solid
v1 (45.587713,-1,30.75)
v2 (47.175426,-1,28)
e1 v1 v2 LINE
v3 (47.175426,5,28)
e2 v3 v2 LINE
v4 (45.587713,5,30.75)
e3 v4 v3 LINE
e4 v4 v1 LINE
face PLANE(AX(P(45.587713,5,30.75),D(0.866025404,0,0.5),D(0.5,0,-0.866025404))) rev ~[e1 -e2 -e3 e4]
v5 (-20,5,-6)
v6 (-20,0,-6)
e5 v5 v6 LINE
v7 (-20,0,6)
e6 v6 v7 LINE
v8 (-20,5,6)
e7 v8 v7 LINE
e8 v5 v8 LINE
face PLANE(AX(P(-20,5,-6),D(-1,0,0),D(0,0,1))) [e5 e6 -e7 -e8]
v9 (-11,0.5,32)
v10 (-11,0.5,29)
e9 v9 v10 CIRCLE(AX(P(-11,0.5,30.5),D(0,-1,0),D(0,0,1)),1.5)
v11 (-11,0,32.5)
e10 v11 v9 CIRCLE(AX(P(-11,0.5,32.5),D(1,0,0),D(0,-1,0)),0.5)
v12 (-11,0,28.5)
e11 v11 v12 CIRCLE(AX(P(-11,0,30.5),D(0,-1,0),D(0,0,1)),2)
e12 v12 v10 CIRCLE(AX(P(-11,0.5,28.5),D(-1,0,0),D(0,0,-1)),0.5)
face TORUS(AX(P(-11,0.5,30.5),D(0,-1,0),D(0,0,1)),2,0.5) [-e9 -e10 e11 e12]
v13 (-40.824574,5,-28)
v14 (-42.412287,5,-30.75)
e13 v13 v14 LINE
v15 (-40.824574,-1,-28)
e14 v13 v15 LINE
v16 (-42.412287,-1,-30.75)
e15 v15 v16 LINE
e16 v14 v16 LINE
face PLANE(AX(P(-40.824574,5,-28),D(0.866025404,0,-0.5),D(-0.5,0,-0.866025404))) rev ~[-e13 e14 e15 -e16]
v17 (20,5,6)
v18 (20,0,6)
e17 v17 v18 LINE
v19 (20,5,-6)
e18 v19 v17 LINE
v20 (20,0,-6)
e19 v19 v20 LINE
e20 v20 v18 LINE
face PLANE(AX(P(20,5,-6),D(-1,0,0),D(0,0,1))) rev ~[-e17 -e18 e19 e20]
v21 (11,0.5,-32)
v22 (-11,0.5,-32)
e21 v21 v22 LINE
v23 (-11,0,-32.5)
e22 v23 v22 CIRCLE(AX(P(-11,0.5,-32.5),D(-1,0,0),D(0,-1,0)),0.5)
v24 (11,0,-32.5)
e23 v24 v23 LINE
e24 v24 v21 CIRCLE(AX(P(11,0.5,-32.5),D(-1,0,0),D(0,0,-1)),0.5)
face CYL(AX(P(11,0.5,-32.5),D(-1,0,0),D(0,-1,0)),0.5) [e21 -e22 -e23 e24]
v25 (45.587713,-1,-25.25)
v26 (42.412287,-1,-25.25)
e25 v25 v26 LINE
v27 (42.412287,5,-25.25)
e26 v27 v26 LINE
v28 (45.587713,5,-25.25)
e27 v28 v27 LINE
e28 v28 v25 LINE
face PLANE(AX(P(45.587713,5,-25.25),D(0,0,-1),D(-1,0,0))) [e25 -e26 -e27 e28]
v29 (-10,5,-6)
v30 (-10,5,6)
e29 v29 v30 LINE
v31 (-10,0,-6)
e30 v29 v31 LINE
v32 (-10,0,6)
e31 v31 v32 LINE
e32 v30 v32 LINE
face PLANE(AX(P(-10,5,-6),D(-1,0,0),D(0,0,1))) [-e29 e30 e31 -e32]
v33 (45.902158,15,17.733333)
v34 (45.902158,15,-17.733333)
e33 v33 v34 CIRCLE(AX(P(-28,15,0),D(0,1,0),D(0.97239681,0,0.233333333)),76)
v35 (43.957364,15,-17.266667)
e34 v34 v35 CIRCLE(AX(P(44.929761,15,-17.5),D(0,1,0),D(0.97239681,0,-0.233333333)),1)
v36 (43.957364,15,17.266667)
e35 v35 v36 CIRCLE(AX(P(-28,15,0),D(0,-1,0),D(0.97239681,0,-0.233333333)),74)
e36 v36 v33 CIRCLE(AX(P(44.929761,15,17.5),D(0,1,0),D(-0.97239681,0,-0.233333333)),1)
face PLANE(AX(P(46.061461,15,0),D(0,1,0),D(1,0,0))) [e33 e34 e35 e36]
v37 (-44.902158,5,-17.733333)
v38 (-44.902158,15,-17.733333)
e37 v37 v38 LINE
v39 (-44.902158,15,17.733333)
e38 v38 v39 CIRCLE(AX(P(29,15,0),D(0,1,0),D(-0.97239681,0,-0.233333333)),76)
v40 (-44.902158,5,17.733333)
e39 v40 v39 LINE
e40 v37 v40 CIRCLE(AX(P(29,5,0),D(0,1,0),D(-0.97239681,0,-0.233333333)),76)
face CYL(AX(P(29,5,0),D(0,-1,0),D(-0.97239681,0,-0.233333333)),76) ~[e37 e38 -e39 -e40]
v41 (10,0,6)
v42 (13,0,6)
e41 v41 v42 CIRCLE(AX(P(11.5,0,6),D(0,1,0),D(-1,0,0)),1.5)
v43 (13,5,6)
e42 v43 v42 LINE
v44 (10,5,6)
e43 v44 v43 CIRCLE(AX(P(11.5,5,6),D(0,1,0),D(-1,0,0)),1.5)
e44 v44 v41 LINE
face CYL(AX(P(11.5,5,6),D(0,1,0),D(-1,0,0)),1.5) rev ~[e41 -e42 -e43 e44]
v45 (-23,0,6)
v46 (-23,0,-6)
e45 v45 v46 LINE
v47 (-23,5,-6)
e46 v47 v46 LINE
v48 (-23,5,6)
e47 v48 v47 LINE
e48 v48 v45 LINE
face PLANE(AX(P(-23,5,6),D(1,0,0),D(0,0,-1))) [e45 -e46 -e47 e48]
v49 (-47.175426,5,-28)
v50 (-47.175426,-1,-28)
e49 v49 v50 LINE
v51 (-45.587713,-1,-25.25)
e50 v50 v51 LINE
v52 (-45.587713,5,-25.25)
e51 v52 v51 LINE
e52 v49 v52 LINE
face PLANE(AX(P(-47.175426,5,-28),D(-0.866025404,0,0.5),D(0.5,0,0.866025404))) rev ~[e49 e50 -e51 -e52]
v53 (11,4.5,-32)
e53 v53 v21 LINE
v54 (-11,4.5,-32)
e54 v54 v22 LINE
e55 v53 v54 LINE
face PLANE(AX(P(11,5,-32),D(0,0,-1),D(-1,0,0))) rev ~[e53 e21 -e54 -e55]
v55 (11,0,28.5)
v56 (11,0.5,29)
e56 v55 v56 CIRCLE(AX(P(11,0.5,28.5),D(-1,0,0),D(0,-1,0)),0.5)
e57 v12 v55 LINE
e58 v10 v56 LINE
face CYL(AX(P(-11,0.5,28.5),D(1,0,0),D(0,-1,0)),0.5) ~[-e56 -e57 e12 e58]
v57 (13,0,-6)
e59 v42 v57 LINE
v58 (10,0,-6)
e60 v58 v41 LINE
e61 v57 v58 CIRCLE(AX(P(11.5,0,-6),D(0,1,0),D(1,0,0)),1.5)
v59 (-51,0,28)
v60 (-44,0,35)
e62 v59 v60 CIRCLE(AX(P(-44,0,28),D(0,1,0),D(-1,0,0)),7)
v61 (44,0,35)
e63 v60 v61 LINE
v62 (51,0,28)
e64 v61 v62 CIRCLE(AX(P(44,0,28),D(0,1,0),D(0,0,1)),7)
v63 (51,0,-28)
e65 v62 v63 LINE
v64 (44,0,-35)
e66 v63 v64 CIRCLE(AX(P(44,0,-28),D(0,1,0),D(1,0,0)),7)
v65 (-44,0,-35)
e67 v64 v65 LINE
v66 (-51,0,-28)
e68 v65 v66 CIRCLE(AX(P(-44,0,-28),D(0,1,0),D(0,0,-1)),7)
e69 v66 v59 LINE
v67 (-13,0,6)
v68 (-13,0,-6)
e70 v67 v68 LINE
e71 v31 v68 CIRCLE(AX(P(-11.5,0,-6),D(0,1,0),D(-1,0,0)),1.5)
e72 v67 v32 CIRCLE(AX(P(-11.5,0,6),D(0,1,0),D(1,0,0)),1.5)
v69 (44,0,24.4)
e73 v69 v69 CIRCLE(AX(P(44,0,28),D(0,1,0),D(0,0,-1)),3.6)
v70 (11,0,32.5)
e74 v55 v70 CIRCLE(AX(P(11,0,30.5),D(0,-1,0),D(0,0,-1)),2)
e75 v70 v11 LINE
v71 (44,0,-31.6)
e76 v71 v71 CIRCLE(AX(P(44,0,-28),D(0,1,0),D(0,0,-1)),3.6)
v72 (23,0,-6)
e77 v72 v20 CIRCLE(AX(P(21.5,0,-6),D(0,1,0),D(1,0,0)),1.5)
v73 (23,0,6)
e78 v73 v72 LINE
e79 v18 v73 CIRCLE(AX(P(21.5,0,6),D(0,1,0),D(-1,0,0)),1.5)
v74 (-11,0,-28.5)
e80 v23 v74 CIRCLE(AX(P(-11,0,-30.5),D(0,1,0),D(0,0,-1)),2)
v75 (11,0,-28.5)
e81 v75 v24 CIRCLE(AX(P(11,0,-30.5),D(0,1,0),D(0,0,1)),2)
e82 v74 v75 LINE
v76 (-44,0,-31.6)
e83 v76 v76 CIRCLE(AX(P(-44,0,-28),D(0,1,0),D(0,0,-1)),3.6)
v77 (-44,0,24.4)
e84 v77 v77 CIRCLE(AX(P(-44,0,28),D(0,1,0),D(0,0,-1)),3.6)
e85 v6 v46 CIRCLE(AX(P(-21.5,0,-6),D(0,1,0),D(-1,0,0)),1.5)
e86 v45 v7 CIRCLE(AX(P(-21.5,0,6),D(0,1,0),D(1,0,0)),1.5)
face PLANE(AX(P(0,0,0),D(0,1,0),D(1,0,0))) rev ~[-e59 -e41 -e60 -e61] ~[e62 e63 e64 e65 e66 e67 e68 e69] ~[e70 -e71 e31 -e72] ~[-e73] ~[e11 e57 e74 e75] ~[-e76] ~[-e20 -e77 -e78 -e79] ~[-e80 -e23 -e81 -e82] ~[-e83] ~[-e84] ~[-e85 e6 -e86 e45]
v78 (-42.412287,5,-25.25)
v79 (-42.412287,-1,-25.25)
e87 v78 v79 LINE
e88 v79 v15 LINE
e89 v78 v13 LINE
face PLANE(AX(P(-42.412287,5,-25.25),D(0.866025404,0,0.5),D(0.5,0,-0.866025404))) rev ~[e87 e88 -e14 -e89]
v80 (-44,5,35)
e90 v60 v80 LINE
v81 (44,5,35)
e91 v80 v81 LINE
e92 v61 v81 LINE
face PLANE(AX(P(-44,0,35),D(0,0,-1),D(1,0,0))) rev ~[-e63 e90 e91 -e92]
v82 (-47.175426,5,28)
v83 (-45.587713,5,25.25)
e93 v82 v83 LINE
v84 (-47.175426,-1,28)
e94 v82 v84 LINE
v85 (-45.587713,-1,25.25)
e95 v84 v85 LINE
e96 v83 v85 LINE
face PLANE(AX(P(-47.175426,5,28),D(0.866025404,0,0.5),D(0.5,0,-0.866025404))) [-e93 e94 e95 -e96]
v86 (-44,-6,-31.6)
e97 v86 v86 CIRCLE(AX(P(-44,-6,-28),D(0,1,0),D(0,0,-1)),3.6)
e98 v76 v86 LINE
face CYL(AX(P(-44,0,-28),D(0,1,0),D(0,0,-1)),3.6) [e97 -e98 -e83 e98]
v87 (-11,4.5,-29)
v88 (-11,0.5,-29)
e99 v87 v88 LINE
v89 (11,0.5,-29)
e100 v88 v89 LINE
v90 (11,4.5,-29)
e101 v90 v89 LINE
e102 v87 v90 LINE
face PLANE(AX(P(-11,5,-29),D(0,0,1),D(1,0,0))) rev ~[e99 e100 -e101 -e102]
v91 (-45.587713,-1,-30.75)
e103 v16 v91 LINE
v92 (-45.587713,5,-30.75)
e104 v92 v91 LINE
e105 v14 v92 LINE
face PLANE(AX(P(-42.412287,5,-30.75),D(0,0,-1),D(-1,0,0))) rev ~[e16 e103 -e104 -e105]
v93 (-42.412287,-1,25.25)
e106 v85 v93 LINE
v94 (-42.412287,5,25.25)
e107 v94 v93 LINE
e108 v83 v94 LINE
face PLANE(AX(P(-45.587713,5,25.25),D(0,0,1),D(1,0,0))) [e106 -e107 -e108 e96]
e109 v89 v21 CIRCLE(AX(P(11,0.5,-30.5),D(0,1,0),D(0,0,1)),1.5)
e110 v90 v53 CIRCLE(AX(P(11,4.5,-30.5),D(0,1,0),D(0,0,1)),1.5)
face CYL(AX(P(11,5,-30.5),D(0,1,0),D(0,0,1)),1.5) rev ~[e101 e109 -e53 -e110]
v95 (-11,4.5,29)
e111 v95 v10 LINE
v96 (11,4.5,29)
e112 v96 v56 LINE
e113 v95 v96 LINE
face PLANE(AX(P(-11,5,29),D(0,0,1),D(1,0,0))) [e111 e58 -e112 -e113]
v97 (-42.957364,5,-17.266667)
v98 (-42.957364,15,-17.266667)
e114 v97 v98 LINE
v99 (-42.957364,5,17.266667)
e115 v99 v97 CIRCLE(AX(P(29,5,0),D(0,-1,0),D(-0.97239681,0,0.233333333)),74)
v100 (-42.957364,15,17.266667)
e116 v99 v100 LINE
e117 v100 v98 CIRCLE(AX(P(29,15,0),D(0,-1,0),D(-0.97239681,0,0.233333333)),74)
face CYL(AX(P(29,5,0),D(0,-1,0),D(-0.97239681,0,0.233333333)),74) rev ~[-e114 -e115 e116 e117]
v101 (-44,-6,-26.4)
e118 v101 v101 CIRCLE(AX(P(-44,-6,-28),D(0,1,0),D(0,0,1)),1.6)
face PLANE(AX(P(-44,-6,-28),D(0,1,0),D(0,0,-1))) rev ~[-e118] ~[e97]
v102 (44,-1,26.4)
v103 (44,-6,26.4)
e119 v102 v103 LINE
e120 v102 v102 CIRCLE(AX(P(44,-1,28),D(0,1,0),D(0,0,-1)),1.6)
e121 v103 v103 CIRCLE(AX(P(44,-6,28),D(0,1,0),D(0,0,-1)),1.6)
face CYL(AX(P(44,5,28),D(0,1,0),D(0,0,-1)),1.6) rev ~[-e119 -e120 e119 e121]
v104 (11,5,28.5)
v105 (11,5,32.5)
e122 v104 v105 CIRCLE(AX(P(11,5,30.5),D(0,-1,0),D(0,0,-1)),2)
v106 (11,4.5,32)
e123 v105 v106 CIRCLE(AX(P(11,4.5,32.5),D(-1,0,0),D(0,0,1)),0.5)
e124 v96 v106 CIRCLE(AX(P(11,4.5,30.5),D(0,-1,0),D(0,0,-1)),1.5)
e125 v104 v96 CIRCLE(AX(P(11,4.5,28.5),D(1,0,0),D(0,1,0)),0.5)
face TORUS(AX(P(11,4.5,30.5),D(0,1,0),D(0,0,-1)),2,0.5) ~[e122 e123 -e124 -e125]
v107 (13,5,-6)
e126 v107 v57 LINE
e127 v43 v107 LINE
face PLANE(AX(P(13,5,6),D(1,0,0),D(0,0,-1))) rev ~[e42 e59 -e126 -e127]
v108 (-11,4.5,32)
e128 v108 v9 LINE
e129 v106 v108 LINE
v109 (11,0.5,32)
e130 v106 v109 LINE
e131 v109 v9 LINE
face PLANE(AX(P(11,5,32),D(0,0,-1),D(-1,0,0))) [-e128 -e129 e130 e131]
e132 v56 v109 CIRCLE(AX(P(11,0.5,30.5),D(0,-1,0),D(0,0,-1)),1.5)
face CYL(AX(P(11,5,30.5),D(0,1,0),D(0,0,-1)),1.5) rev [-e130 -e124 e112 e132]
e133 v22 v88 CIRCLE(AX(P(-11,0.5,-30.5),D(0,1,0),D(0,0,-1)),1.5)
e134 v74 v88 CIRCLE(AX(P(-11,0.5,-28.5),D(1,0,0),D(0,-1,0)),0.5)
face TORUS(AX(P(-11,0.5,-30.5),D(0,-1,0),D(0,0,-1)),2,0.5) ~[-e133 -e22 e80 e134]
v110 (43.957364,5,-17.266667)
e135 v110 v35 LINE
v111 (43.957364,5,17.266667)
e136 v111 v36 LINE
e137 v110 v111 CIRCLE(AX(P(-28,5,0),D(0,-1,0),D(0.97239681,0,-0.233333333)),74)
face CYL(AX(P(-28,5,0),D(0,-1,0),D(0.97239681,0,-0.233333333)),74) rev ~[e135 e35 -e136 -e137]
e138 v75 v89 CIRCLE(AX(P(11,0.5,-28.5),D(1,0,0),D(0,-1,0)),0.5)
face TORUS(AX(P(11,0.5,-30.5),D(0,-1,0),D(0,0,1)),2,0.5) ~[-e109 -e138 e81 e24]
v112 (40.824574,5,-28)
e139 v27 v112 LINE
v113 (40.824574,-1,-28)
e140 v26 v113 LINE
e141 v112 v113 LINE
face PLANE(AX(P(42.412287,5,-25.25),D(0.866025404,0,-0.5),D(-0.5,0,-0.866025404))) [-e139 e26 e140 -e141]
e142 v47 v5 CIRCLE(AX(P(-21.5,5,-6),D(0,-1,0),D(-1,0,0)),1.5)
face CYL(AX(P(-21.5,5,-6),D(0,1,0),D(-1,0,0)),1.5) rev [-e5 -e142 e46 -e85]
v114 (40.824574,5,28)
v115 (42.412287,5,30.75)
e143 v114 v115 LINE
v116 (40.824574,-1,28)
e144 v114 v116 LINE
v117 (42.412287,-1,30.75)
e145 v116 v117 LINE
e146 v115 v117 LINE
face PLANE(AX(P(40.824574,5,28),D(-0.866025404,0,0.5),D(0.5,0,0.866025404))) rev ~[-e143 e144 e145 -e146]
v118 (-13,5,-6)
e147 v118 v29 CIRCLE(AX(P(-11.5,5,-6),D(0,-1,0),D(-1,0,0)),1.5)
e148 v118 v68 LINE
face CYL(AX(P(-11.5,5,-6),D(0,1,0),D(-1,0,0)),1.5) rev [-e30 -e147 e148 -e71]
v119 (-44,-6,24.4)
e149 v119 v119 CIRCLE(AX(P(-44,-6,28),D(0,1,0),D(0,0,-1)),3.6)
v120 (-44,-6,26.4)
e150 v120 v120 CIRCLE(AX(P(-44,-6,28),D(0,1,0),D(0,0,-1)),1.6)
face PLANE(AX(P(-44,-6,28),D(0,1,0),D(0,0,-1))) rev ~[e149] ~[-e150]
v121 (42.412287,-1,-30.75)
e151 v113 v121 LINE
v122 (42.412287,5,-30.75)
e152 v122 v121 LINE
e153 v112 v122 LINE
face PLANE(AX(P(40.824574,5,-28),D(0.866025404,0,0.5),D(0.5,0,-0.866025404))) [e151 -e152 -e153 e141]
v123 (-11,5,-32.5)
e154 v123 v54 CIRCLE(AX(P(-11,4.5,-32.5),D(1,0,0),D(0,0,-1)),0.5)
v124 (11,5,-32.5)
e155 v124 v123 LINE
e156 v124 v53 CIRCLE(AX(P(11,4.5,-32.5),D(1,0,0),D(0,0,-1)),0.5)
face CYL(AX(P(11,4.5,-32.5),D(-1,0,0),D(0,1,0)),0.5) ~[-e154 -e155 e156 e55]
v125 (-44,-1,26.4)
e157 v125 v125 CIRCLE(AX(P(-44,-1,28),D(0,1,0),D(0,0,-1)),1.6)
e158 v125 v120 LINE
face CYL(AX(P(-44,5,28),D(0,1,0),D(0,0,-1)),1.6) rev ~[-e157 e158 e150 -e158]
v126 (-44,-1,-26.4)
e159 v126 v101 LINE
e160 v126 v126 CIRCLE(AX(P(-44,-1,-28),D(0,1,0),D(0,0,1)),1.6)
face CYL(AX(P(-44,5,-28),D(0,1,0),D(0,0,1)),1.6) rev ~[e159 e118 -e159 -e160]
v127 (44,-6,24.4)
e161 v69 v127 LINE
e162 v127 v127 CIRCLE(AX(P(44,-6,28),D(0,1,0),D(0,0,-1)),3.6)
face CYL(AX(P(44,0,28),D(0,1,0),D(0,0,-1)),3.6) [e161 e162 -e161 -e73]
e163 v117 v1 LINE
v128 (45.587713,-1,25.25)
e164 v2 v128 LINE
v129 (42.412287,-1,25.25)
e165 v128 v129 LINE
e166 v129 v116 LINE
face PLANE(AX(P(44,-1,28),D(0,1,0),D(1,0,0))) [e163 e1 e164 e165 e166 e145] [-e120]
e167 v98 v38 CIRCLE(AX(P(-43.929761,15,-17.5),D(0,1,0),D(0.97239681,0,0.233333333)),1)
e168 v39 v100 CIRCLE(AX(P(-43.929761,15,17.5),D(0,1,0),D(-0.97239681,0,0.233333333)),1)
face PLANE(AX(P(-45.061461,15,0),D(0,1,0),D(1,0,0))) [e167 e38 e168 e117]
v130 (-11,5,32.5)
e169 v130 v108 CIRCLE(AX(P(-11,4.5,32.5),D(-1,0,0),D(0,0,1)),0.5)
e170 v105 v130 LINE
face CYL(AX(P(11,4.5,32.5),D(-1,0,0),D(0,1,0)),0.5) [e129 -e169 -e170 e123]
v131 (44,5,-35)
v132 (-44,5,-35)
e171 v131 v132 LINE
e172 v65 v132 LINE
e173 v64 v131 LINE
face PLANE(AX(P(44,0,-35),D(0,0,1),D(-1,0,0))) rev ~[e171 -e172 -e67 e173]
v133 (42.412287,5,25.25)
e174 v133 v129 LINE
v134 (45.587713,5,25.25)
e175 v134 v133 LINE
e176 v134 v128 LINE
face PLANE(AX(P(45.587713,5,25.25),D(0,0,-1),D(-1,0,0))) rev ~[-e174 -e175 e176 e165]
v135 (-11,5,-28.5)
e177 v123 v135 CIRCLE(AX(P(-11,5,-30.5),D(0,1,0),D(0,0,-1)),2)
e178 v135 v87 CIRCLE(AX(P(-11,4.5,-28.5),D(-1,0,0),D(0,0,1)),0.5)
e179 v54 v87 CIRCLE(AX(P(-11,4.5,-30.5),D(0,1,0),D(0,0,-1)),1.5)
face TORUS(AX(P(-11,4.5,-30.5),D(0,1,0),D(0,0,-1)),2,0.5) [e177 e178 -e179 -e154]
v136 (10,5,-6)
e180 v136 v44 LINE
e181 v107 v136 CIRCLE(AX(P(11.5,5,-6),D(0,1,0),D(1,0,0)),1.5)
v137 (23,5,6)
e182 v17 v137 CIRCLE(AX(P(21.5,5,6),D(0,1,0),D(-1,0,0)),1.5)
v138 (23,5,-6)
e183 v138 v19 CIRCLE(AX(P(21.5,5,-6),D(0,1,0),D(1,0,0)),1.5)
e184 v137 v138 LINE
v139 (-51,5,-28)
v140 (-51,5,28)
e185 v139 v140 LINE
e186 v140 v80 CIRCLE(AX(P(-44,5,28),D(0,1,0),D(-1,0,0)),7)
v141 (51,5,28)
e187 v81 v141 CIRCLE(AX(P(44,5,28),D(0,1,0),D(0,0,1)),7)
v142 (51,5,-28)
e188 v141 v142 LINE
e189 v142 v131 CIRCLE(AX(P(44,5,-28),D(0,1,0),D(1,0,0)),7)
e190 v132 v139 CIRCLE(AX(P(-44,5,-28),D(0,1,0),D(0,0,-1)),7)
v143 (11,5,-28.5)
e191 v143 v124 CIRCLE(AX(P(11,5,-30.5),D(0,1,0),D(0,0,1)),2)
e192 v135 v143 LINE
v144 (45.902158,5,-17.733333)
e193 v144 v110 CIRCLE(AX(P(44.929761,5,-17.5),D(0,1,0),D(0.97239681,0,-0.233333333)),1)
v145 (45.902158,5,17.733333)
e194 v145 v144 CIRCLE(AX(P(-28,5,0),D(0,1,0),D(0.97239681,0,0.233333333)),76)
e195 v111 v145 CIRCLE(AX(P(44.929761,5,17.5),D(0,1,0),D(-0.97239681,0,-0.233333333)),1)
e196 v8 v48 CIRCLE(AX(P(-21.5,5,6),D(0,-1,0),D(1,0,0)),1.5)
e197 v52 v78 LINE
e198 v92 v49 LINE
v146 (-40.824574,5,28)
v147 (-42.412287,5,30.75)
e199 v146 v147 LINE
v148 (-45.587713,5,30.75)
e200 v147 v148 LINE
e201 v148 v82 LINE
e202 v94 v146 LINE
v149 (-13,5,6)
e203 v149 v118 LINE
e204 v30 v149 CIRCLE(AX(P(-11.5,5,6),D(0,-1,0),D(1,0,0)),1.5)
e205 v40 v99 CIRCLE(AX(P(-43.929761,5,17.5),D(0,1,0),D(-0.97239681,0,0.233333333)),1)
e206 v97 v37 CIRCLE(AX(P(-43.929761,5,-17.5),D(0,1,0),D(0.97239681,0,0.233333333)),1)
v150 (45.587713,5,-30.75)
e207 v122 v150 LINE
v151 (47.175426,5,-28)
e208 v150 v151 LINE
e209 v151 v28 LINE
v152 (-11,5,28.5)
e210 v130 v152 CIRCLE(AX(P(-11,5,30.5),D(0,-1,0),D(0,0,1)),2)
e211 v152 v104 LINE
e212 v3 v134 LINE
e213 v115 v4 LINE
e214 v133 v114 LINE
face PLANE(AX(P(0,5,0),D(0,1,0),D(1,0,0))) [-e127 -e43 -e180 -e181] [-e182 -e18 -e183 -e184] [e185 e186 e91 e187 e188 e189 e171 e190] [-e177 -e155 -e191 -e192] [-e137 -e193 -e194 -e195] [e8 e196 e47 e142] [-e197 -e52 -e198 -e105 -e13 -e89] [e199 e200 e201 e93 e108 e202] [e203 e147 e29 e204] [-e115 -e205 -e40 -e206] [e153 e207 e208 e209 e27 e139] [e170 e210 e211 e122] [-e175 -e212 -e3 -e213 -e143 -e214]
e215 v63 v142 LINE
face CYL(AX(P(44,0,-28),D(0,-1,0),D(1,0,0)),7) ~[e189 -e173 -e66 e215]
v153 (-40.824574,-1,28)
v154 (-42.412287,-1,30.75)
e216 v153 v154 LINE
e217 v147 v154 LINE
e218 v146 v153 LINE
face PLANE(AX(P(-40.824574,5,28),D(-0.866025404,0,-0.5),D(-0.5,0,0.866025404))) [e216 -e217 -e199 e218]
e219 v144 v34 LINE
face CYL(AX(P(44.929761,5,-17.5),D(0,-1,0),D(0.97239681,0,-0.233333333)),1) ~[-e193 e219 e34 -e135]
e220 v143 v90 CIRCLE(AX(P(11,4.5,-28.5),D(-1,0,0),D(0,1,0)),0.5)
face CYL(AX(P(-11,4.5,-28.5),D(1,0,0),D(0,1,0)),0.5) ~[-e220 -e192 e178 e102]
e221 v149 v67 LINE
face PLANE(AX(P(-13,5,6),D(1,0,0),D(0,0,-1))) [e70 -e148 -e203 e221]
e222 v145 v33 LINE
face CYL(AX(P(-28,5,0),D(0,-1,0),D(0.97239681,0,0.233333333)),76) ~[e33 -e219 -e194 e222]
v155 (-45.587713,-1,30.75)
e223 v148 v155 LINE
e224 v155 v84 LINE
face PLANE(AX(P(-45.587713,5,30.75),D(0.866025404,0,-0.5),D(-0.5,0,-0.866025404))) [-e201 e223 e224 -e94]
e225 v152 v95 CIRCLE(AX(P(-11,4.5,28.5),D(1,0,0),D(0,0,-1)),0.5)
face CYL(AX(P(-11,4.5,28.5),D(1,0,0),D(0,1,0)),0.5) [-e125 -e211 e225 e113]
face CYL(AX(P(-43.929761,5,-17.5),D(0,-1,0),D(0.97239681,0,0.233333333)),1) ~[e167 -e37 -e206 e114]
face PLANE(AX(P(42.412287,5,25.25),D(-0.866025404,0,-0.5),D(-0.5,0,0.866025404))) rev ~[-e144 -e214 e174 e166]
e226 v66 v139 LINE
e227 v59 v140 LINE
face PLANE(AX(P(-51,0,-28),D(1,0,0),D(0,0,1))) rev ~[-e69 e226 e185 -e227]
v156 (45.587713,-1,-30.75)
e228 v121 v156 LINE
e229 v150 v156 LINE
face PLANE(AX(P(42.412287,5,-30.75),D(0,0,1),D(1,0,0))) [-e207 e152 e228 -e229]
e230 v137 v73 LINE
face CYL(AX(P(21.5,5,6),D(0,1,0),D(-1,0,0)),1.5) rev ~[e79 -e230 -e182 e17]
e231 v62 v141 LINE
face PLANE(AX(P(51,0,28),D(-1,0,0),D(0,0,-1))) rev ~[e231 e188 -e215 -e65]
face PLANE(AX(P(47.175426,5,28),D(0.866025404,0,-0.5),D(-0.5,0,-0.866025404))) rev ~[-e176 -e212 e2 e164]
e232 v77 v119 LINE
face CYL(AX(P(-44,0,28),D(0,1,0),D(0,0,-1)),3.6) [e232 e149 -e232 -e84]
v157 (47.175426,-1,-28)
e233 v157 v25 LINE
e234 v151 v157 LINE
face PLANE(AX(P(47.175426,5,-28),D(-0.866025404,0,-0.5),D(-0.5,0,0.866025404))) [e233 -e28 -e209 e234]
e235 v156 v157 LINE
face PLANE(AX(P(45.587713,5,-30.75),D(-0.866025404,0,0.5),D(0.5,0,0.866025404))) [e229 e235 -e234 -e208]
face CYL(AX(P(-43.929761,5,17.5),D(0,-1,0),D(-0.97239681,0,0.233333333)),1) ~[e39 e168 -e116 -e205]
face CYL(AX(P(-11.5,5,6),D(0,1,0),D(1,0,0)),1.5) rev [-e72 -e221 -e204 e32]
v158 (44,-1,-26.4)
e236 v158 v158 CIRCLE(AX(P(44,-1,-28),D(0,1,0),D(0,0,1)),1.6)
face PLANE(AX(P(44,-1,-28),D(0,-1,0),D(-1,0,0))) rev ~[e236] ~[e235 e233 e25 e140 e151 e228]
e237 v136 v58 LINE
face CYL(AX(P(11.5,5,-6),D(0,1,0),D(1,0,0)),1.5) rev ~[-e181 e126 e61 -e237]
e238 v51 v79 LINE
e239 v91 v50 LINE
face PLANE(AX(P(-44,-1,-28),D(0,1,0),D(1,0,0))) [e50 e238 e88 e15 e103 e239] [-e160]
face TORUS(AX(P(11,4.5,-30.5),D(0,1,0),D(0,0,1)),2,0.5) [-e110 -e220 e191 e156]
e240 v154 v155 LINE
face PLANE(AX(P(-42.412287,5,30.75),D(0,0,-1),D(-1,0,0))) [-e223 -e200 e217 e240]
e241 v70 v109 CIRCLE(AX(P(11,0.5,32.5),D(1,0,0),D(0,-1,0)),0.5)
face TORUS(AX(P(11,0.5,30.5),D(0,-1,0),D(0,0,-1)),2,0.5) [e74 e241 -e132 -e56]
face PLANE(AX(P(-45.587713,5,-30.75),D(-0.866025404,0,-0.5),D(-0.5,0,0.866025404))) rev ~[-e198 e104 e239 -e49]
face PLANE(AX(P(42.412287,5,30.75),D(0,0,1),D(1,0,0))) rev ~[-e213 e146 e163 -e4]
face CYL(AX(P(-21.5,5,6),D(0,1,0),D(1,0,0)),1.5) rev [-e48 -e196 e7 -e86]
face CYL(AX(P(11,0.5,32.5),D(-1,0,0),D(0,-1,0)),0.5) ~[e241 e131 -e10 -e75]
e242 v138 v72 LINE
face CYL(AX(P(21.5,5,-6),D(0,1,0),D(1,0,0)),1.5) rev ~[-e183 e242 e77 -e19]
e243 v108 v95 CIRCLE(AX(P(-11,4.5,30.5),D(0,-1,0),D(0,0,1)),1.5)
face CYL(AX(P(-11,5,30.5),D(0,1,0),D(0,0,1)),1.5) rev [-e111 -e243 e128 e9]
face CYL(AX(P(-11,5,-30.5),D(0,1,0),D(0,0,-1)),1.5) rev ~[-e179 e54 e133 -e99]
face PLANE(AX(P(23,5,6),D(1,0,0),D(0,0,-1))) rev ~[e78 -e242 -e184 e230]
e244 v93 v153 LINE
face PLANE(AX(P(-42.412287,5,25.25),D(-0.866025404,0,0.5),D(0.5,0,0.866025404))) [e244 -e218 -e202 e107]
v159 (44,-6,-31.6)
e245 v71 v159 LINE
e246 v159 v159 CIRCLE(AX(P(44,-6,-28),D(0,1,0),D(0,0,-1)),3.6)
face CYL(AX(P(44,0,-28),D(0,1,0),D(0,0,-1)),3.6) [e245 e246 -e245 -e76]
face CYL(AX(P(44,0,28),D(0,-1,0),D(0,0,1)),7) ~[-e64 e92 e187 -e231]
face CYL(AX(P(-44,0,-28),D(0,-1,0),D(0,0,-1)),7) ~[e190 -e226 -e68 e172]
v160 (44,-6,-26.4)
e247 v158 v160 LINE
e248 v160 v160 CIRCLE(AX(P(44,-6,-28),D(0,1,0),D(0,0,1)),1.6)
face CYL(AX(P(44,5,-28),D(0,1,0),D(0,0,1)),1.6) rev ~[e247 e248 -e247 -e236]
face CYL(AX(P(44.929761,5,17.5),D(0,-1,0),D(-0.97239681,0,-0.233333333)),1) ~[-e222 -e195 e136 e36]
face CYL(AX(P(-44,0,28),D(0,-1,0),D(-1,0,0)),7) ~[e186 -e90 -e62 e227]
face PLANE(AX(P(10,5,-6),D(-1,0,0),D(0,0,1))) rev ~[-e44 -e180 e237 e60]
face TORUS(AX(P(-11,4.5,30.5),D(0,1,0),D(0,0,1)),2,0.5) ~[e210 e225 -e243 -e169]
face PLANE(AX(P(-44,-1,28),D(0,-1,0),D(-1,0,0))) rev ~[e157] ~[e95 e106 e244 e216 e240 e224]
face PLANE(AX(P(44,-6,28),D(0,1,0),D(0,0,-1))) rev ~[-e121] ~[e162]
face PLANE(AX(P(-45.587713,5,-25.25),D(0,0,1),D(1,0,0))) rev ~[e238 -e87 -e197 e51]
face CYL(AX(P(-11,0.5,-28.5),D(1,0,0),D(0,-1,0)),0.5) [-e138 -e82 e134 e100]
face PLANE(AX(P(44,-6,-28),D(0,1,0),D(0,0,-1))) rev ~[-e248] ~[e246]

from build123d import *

# Parameters (mm, degrees)
BOSS_EXTRUDE1_DEPTH = 5
CUT_EXTRUDE1_DEPTH  = 12
BOSS_EXTRUDE2_DEPTH = 10
FILLET1_R           = 0.5
BOSS_EXTRUDE3_START = -5
SKETCH4_R           = 3.6
BOSS_EXTRUDE3_DEPTH = 6
SKETCH6_R           = 1.6
CUT_EXTRUDE2_DEPTH  = 63.825154198
CUT_EXTRUDE3_DEPTH  = 6


with BuildPart() as part:
    # Sketch1 → Boss-Extrude1 (new body)
    with BuildSketch(Plane(origin=(0, 0, 0), x_dir=(1, 0, 0), z_dir=(0, 1, 0))):
        with BuildLine():
            Line((-44, -35), (44, -35))
            ThreePointArc((44, -35), (48.949747468, -32.949747468), (51, -28))
            Line((51, -28), (51, 28))
            ThreePointArc((51, 28), (48.949747468, 32.949747468), (44, 35))
            Line((44, 35), (-44, 35))
            ThreePointArc((-44, 35), (-48.949747468, 32.949747468), (-51, 28))
            Line((-51, 28), (-51, -28))
            ThreePointArc((-51, -28), (-48.949747468, -32.949747468), (-44, -35))
        make_face()
    extrude(amount=BOSS_EXTRUDE1_DEPTH)

    # Sketch2 → Cut-Extrude1 (cut)
    with BuildSketch(Plane(origin=(0, 5, 0), x_dir=(1, 0, 0), z_dir=(0, 1, 0))):
        with BuildLine():
            Line((-11, -29), (11, -29))
            ThreePointArc((11, -29), (12.5, -30.5), (11, -32))
            Line((11, -32), (-11, -32))
            ThreePointArc((-11, -32), (-12.5, -30.5), (-11, -29))
        make_face()
        with BuildLine():
            Line((-11, 29), (11, 29))
            ThreePointArc((11, 29), (12.5, 30.5), (11, 32))
            Line((11, 32), (-11, 32))
            ThreePointArc((-11, 32), (-12.5, 30.5), (-11, 29))
        make_face()
        with BuildLine():
            Line((-20, 6), (-20, -6))
            ThreePointArc((-20, -6), (-21.5, -7.5), (-23, -6))
            Line((-23, -6), (-23, 6))
            ThreePointArc((-23, 6), (-21.5, 7.5), (-20, 6))
        make_face()
        with BuildLine():
            Line((-10, 6), (-10, -6))
            ThreePointArc((-10, -6), (-11.5, -7.5), (-13, -6))
            Line((-13, -6), (-13, 6))
            ThreePointArc((-13, 6), (-11.5, 7.5), (-10, 6))
        make_face()
        with BuildLine():
            Line((10, 6), (10, -6))
            ThreePointArc((10, -6), (11.5, -7.5), (13, -6))
            Line((13, -6), (13, 6))
            ThreePointArc((13, 6), (11.5, 7.5), (10, 6))
        make_face()
        with BuildLine():
            Line((20, 6), (20, -6))
            ThreePointArc((20, -6), (21.5, -7.5), (23, -6))
            Line((23, -6), (23, 6))
            ThreePointArc((23, 6), (21.5, 7.5), (20, 6))
        make_face()
    extrude(amount=-CUT_EXTRUDE1_DEPTH, mode=Mode.SUBTRACT)

    # Sketch3 → Boss-Extrude2 (add)
    with BuildSketch(Plane(origin=(0, 5, 0), x_dir=(1, 0, 0), z_dir=(0, 1, 0))):
        with BuildLine():
            ThreePointArc((-44.902157539, 17.733333333), (-47, 0), (-44.902157539, -17.733333333))
            ThreePointArc((-44.902157539, -17.733333333), (-43.696427396, -18.47239681), (-42.957363919, -17.266666667))
            ThreePointArc((-42.957363919, -17.266666667), (-45, 0), (-42.957363919, 17.266666667))
            ThreePointArc((-42.957363919, 17.266666667), (-43.696427396, 18.47239681), (-44.902157539, 17.733333333))
        make_face()
        with BuildLine():
            ThreePointArc((43.957363919, 17.266666667), (46, 0), (43.957363919, -17.266666667))
            ThreePointArc((43.957363919, -17.266666667), (44.696427396, -18.47239681), (45.902157539, -17.733333333))
            ThreePointArc((45.902157539, -17.733333333), (48, 0), (45.902157539, 17.733333333))
            ThreePointArc((45.902157539, 17.733333333), (44.696427396, 18.47239681), (43.957363919, 17.266666667))
        make_face()
    extrude(amount=BOSS_EXTRUDE2_DEPTH)

    # Fillet1
    fillet1_edges = [part.edges().sort_by_distance(p)[0] for p in [
        (0, 0, -29),
        (12.5, 0, -30.5),
        (0, 0, -32),
        (-12.5, 0, -30.5),
        (0, 0, 32),
        (12.5, 0, 30.5),
        (0, 0, 29),
        (-12.5, 0, 30.5),
        (-12.5, 5, 30.5),
        (0, 5, 32),
        (12.5, 5, 30.5),
        (0, 5, 29),
        (-12.5, 5, -30.5),
        (0, 5, -29),
        (12.5, 5, -30.5),
        (0, 5, -32),
    ]]
    fillet(fillet1_edges, radius=FILLET1_R)

    # Sketch4 → Boss-Extrude3 (add)
    with BuildSketch(Plane(origin=(0, 5, 0), x_dir=(1, 0, 0), z_dir=(0, 1, 0)).offset(BOSS_EXTRUDE3_START)):
        with Locations(Location((-44, 28, 0), (0, 0, 90))):
            Circle(SKETCH4_R)
        with Locations(Location((-44, -28, 0), (0, 0, 90))):
            Circle(SKETCH4_R)
        with Locations(Location((44, -28, 0), (0, 0, 90))):
            Circle(SKETCH4_R)
        with Locations(Location((44, 28, 0), (0, 0, 90))):
            Circle(SKETCH4_R)
    extrude(amount=-BOSS_EXTRUDE3_DEPTH)

    # Sketch6 → Cut-Extrude2 (cut, through all)
    with BuildSketch(Plane(origin=(0, 5, 0), x_dir=(1, 0, 0), z_dir=(0, 1, 0))):
        with Locations(Location((-44, 28, 0), (0, 0, 270))):
            Circle(SKETCH6_R)
        with Locations(Location((44, 28, 0), (0, 0, 270))):
            Circle(SKETCH6_R)
        with Locations(Location((44, -28, 0), (0, 0, 90))):
            Circle(SKETCH6_R)
        with Locations(Location((-44, -28, 0), (0, 0, 90))):
            Circle(SKETCH6_R)
    extrude(amount=-CUT_EXTRUDE2_DEPTH, mode=Mode.SUBTRACT)

    # Sketch7 → Cut-Extrude3 (cut)
    with BuildSketch(Plane(origin=(0, 5, 0), x_dir=(1, 0, 0), z_dir=(0, 1, 0))):
        Polygon((-42.41228676, 30.75), (-45.58771324, 30.75), (-47.175426481, 28), (-45.58771324, 25.25), (-42.41228676, 25.25), (-40.824573519, 28), align=None)
        Polygon((40.824573519, 28), (42.41228676, 30.75), (45.58771324, 30.75), (47.175426481, 28), (45.58771324, 25.25), (42.41228676, 25.25), align=None)
        Polygon((42.41228676, -30.75), (45.58771324, -30.75), (47.175426481, -28), (45.58771324, -25.25), (42.41228676, -25.25), (40.824573519, -28), align=None)
        Polygon((-40.824573519, -28), (-42.41228676, -30.75), (-45.58771324, -30.75), (-47.175426481, -28), (-45.58771324, -25.25), (-42.41228676, -25.25), align=None)
    extrude(amount=-CUT_EXTRUDE3_DEPTH, mode=Mode.SUBTRACT)


solid = part.part
